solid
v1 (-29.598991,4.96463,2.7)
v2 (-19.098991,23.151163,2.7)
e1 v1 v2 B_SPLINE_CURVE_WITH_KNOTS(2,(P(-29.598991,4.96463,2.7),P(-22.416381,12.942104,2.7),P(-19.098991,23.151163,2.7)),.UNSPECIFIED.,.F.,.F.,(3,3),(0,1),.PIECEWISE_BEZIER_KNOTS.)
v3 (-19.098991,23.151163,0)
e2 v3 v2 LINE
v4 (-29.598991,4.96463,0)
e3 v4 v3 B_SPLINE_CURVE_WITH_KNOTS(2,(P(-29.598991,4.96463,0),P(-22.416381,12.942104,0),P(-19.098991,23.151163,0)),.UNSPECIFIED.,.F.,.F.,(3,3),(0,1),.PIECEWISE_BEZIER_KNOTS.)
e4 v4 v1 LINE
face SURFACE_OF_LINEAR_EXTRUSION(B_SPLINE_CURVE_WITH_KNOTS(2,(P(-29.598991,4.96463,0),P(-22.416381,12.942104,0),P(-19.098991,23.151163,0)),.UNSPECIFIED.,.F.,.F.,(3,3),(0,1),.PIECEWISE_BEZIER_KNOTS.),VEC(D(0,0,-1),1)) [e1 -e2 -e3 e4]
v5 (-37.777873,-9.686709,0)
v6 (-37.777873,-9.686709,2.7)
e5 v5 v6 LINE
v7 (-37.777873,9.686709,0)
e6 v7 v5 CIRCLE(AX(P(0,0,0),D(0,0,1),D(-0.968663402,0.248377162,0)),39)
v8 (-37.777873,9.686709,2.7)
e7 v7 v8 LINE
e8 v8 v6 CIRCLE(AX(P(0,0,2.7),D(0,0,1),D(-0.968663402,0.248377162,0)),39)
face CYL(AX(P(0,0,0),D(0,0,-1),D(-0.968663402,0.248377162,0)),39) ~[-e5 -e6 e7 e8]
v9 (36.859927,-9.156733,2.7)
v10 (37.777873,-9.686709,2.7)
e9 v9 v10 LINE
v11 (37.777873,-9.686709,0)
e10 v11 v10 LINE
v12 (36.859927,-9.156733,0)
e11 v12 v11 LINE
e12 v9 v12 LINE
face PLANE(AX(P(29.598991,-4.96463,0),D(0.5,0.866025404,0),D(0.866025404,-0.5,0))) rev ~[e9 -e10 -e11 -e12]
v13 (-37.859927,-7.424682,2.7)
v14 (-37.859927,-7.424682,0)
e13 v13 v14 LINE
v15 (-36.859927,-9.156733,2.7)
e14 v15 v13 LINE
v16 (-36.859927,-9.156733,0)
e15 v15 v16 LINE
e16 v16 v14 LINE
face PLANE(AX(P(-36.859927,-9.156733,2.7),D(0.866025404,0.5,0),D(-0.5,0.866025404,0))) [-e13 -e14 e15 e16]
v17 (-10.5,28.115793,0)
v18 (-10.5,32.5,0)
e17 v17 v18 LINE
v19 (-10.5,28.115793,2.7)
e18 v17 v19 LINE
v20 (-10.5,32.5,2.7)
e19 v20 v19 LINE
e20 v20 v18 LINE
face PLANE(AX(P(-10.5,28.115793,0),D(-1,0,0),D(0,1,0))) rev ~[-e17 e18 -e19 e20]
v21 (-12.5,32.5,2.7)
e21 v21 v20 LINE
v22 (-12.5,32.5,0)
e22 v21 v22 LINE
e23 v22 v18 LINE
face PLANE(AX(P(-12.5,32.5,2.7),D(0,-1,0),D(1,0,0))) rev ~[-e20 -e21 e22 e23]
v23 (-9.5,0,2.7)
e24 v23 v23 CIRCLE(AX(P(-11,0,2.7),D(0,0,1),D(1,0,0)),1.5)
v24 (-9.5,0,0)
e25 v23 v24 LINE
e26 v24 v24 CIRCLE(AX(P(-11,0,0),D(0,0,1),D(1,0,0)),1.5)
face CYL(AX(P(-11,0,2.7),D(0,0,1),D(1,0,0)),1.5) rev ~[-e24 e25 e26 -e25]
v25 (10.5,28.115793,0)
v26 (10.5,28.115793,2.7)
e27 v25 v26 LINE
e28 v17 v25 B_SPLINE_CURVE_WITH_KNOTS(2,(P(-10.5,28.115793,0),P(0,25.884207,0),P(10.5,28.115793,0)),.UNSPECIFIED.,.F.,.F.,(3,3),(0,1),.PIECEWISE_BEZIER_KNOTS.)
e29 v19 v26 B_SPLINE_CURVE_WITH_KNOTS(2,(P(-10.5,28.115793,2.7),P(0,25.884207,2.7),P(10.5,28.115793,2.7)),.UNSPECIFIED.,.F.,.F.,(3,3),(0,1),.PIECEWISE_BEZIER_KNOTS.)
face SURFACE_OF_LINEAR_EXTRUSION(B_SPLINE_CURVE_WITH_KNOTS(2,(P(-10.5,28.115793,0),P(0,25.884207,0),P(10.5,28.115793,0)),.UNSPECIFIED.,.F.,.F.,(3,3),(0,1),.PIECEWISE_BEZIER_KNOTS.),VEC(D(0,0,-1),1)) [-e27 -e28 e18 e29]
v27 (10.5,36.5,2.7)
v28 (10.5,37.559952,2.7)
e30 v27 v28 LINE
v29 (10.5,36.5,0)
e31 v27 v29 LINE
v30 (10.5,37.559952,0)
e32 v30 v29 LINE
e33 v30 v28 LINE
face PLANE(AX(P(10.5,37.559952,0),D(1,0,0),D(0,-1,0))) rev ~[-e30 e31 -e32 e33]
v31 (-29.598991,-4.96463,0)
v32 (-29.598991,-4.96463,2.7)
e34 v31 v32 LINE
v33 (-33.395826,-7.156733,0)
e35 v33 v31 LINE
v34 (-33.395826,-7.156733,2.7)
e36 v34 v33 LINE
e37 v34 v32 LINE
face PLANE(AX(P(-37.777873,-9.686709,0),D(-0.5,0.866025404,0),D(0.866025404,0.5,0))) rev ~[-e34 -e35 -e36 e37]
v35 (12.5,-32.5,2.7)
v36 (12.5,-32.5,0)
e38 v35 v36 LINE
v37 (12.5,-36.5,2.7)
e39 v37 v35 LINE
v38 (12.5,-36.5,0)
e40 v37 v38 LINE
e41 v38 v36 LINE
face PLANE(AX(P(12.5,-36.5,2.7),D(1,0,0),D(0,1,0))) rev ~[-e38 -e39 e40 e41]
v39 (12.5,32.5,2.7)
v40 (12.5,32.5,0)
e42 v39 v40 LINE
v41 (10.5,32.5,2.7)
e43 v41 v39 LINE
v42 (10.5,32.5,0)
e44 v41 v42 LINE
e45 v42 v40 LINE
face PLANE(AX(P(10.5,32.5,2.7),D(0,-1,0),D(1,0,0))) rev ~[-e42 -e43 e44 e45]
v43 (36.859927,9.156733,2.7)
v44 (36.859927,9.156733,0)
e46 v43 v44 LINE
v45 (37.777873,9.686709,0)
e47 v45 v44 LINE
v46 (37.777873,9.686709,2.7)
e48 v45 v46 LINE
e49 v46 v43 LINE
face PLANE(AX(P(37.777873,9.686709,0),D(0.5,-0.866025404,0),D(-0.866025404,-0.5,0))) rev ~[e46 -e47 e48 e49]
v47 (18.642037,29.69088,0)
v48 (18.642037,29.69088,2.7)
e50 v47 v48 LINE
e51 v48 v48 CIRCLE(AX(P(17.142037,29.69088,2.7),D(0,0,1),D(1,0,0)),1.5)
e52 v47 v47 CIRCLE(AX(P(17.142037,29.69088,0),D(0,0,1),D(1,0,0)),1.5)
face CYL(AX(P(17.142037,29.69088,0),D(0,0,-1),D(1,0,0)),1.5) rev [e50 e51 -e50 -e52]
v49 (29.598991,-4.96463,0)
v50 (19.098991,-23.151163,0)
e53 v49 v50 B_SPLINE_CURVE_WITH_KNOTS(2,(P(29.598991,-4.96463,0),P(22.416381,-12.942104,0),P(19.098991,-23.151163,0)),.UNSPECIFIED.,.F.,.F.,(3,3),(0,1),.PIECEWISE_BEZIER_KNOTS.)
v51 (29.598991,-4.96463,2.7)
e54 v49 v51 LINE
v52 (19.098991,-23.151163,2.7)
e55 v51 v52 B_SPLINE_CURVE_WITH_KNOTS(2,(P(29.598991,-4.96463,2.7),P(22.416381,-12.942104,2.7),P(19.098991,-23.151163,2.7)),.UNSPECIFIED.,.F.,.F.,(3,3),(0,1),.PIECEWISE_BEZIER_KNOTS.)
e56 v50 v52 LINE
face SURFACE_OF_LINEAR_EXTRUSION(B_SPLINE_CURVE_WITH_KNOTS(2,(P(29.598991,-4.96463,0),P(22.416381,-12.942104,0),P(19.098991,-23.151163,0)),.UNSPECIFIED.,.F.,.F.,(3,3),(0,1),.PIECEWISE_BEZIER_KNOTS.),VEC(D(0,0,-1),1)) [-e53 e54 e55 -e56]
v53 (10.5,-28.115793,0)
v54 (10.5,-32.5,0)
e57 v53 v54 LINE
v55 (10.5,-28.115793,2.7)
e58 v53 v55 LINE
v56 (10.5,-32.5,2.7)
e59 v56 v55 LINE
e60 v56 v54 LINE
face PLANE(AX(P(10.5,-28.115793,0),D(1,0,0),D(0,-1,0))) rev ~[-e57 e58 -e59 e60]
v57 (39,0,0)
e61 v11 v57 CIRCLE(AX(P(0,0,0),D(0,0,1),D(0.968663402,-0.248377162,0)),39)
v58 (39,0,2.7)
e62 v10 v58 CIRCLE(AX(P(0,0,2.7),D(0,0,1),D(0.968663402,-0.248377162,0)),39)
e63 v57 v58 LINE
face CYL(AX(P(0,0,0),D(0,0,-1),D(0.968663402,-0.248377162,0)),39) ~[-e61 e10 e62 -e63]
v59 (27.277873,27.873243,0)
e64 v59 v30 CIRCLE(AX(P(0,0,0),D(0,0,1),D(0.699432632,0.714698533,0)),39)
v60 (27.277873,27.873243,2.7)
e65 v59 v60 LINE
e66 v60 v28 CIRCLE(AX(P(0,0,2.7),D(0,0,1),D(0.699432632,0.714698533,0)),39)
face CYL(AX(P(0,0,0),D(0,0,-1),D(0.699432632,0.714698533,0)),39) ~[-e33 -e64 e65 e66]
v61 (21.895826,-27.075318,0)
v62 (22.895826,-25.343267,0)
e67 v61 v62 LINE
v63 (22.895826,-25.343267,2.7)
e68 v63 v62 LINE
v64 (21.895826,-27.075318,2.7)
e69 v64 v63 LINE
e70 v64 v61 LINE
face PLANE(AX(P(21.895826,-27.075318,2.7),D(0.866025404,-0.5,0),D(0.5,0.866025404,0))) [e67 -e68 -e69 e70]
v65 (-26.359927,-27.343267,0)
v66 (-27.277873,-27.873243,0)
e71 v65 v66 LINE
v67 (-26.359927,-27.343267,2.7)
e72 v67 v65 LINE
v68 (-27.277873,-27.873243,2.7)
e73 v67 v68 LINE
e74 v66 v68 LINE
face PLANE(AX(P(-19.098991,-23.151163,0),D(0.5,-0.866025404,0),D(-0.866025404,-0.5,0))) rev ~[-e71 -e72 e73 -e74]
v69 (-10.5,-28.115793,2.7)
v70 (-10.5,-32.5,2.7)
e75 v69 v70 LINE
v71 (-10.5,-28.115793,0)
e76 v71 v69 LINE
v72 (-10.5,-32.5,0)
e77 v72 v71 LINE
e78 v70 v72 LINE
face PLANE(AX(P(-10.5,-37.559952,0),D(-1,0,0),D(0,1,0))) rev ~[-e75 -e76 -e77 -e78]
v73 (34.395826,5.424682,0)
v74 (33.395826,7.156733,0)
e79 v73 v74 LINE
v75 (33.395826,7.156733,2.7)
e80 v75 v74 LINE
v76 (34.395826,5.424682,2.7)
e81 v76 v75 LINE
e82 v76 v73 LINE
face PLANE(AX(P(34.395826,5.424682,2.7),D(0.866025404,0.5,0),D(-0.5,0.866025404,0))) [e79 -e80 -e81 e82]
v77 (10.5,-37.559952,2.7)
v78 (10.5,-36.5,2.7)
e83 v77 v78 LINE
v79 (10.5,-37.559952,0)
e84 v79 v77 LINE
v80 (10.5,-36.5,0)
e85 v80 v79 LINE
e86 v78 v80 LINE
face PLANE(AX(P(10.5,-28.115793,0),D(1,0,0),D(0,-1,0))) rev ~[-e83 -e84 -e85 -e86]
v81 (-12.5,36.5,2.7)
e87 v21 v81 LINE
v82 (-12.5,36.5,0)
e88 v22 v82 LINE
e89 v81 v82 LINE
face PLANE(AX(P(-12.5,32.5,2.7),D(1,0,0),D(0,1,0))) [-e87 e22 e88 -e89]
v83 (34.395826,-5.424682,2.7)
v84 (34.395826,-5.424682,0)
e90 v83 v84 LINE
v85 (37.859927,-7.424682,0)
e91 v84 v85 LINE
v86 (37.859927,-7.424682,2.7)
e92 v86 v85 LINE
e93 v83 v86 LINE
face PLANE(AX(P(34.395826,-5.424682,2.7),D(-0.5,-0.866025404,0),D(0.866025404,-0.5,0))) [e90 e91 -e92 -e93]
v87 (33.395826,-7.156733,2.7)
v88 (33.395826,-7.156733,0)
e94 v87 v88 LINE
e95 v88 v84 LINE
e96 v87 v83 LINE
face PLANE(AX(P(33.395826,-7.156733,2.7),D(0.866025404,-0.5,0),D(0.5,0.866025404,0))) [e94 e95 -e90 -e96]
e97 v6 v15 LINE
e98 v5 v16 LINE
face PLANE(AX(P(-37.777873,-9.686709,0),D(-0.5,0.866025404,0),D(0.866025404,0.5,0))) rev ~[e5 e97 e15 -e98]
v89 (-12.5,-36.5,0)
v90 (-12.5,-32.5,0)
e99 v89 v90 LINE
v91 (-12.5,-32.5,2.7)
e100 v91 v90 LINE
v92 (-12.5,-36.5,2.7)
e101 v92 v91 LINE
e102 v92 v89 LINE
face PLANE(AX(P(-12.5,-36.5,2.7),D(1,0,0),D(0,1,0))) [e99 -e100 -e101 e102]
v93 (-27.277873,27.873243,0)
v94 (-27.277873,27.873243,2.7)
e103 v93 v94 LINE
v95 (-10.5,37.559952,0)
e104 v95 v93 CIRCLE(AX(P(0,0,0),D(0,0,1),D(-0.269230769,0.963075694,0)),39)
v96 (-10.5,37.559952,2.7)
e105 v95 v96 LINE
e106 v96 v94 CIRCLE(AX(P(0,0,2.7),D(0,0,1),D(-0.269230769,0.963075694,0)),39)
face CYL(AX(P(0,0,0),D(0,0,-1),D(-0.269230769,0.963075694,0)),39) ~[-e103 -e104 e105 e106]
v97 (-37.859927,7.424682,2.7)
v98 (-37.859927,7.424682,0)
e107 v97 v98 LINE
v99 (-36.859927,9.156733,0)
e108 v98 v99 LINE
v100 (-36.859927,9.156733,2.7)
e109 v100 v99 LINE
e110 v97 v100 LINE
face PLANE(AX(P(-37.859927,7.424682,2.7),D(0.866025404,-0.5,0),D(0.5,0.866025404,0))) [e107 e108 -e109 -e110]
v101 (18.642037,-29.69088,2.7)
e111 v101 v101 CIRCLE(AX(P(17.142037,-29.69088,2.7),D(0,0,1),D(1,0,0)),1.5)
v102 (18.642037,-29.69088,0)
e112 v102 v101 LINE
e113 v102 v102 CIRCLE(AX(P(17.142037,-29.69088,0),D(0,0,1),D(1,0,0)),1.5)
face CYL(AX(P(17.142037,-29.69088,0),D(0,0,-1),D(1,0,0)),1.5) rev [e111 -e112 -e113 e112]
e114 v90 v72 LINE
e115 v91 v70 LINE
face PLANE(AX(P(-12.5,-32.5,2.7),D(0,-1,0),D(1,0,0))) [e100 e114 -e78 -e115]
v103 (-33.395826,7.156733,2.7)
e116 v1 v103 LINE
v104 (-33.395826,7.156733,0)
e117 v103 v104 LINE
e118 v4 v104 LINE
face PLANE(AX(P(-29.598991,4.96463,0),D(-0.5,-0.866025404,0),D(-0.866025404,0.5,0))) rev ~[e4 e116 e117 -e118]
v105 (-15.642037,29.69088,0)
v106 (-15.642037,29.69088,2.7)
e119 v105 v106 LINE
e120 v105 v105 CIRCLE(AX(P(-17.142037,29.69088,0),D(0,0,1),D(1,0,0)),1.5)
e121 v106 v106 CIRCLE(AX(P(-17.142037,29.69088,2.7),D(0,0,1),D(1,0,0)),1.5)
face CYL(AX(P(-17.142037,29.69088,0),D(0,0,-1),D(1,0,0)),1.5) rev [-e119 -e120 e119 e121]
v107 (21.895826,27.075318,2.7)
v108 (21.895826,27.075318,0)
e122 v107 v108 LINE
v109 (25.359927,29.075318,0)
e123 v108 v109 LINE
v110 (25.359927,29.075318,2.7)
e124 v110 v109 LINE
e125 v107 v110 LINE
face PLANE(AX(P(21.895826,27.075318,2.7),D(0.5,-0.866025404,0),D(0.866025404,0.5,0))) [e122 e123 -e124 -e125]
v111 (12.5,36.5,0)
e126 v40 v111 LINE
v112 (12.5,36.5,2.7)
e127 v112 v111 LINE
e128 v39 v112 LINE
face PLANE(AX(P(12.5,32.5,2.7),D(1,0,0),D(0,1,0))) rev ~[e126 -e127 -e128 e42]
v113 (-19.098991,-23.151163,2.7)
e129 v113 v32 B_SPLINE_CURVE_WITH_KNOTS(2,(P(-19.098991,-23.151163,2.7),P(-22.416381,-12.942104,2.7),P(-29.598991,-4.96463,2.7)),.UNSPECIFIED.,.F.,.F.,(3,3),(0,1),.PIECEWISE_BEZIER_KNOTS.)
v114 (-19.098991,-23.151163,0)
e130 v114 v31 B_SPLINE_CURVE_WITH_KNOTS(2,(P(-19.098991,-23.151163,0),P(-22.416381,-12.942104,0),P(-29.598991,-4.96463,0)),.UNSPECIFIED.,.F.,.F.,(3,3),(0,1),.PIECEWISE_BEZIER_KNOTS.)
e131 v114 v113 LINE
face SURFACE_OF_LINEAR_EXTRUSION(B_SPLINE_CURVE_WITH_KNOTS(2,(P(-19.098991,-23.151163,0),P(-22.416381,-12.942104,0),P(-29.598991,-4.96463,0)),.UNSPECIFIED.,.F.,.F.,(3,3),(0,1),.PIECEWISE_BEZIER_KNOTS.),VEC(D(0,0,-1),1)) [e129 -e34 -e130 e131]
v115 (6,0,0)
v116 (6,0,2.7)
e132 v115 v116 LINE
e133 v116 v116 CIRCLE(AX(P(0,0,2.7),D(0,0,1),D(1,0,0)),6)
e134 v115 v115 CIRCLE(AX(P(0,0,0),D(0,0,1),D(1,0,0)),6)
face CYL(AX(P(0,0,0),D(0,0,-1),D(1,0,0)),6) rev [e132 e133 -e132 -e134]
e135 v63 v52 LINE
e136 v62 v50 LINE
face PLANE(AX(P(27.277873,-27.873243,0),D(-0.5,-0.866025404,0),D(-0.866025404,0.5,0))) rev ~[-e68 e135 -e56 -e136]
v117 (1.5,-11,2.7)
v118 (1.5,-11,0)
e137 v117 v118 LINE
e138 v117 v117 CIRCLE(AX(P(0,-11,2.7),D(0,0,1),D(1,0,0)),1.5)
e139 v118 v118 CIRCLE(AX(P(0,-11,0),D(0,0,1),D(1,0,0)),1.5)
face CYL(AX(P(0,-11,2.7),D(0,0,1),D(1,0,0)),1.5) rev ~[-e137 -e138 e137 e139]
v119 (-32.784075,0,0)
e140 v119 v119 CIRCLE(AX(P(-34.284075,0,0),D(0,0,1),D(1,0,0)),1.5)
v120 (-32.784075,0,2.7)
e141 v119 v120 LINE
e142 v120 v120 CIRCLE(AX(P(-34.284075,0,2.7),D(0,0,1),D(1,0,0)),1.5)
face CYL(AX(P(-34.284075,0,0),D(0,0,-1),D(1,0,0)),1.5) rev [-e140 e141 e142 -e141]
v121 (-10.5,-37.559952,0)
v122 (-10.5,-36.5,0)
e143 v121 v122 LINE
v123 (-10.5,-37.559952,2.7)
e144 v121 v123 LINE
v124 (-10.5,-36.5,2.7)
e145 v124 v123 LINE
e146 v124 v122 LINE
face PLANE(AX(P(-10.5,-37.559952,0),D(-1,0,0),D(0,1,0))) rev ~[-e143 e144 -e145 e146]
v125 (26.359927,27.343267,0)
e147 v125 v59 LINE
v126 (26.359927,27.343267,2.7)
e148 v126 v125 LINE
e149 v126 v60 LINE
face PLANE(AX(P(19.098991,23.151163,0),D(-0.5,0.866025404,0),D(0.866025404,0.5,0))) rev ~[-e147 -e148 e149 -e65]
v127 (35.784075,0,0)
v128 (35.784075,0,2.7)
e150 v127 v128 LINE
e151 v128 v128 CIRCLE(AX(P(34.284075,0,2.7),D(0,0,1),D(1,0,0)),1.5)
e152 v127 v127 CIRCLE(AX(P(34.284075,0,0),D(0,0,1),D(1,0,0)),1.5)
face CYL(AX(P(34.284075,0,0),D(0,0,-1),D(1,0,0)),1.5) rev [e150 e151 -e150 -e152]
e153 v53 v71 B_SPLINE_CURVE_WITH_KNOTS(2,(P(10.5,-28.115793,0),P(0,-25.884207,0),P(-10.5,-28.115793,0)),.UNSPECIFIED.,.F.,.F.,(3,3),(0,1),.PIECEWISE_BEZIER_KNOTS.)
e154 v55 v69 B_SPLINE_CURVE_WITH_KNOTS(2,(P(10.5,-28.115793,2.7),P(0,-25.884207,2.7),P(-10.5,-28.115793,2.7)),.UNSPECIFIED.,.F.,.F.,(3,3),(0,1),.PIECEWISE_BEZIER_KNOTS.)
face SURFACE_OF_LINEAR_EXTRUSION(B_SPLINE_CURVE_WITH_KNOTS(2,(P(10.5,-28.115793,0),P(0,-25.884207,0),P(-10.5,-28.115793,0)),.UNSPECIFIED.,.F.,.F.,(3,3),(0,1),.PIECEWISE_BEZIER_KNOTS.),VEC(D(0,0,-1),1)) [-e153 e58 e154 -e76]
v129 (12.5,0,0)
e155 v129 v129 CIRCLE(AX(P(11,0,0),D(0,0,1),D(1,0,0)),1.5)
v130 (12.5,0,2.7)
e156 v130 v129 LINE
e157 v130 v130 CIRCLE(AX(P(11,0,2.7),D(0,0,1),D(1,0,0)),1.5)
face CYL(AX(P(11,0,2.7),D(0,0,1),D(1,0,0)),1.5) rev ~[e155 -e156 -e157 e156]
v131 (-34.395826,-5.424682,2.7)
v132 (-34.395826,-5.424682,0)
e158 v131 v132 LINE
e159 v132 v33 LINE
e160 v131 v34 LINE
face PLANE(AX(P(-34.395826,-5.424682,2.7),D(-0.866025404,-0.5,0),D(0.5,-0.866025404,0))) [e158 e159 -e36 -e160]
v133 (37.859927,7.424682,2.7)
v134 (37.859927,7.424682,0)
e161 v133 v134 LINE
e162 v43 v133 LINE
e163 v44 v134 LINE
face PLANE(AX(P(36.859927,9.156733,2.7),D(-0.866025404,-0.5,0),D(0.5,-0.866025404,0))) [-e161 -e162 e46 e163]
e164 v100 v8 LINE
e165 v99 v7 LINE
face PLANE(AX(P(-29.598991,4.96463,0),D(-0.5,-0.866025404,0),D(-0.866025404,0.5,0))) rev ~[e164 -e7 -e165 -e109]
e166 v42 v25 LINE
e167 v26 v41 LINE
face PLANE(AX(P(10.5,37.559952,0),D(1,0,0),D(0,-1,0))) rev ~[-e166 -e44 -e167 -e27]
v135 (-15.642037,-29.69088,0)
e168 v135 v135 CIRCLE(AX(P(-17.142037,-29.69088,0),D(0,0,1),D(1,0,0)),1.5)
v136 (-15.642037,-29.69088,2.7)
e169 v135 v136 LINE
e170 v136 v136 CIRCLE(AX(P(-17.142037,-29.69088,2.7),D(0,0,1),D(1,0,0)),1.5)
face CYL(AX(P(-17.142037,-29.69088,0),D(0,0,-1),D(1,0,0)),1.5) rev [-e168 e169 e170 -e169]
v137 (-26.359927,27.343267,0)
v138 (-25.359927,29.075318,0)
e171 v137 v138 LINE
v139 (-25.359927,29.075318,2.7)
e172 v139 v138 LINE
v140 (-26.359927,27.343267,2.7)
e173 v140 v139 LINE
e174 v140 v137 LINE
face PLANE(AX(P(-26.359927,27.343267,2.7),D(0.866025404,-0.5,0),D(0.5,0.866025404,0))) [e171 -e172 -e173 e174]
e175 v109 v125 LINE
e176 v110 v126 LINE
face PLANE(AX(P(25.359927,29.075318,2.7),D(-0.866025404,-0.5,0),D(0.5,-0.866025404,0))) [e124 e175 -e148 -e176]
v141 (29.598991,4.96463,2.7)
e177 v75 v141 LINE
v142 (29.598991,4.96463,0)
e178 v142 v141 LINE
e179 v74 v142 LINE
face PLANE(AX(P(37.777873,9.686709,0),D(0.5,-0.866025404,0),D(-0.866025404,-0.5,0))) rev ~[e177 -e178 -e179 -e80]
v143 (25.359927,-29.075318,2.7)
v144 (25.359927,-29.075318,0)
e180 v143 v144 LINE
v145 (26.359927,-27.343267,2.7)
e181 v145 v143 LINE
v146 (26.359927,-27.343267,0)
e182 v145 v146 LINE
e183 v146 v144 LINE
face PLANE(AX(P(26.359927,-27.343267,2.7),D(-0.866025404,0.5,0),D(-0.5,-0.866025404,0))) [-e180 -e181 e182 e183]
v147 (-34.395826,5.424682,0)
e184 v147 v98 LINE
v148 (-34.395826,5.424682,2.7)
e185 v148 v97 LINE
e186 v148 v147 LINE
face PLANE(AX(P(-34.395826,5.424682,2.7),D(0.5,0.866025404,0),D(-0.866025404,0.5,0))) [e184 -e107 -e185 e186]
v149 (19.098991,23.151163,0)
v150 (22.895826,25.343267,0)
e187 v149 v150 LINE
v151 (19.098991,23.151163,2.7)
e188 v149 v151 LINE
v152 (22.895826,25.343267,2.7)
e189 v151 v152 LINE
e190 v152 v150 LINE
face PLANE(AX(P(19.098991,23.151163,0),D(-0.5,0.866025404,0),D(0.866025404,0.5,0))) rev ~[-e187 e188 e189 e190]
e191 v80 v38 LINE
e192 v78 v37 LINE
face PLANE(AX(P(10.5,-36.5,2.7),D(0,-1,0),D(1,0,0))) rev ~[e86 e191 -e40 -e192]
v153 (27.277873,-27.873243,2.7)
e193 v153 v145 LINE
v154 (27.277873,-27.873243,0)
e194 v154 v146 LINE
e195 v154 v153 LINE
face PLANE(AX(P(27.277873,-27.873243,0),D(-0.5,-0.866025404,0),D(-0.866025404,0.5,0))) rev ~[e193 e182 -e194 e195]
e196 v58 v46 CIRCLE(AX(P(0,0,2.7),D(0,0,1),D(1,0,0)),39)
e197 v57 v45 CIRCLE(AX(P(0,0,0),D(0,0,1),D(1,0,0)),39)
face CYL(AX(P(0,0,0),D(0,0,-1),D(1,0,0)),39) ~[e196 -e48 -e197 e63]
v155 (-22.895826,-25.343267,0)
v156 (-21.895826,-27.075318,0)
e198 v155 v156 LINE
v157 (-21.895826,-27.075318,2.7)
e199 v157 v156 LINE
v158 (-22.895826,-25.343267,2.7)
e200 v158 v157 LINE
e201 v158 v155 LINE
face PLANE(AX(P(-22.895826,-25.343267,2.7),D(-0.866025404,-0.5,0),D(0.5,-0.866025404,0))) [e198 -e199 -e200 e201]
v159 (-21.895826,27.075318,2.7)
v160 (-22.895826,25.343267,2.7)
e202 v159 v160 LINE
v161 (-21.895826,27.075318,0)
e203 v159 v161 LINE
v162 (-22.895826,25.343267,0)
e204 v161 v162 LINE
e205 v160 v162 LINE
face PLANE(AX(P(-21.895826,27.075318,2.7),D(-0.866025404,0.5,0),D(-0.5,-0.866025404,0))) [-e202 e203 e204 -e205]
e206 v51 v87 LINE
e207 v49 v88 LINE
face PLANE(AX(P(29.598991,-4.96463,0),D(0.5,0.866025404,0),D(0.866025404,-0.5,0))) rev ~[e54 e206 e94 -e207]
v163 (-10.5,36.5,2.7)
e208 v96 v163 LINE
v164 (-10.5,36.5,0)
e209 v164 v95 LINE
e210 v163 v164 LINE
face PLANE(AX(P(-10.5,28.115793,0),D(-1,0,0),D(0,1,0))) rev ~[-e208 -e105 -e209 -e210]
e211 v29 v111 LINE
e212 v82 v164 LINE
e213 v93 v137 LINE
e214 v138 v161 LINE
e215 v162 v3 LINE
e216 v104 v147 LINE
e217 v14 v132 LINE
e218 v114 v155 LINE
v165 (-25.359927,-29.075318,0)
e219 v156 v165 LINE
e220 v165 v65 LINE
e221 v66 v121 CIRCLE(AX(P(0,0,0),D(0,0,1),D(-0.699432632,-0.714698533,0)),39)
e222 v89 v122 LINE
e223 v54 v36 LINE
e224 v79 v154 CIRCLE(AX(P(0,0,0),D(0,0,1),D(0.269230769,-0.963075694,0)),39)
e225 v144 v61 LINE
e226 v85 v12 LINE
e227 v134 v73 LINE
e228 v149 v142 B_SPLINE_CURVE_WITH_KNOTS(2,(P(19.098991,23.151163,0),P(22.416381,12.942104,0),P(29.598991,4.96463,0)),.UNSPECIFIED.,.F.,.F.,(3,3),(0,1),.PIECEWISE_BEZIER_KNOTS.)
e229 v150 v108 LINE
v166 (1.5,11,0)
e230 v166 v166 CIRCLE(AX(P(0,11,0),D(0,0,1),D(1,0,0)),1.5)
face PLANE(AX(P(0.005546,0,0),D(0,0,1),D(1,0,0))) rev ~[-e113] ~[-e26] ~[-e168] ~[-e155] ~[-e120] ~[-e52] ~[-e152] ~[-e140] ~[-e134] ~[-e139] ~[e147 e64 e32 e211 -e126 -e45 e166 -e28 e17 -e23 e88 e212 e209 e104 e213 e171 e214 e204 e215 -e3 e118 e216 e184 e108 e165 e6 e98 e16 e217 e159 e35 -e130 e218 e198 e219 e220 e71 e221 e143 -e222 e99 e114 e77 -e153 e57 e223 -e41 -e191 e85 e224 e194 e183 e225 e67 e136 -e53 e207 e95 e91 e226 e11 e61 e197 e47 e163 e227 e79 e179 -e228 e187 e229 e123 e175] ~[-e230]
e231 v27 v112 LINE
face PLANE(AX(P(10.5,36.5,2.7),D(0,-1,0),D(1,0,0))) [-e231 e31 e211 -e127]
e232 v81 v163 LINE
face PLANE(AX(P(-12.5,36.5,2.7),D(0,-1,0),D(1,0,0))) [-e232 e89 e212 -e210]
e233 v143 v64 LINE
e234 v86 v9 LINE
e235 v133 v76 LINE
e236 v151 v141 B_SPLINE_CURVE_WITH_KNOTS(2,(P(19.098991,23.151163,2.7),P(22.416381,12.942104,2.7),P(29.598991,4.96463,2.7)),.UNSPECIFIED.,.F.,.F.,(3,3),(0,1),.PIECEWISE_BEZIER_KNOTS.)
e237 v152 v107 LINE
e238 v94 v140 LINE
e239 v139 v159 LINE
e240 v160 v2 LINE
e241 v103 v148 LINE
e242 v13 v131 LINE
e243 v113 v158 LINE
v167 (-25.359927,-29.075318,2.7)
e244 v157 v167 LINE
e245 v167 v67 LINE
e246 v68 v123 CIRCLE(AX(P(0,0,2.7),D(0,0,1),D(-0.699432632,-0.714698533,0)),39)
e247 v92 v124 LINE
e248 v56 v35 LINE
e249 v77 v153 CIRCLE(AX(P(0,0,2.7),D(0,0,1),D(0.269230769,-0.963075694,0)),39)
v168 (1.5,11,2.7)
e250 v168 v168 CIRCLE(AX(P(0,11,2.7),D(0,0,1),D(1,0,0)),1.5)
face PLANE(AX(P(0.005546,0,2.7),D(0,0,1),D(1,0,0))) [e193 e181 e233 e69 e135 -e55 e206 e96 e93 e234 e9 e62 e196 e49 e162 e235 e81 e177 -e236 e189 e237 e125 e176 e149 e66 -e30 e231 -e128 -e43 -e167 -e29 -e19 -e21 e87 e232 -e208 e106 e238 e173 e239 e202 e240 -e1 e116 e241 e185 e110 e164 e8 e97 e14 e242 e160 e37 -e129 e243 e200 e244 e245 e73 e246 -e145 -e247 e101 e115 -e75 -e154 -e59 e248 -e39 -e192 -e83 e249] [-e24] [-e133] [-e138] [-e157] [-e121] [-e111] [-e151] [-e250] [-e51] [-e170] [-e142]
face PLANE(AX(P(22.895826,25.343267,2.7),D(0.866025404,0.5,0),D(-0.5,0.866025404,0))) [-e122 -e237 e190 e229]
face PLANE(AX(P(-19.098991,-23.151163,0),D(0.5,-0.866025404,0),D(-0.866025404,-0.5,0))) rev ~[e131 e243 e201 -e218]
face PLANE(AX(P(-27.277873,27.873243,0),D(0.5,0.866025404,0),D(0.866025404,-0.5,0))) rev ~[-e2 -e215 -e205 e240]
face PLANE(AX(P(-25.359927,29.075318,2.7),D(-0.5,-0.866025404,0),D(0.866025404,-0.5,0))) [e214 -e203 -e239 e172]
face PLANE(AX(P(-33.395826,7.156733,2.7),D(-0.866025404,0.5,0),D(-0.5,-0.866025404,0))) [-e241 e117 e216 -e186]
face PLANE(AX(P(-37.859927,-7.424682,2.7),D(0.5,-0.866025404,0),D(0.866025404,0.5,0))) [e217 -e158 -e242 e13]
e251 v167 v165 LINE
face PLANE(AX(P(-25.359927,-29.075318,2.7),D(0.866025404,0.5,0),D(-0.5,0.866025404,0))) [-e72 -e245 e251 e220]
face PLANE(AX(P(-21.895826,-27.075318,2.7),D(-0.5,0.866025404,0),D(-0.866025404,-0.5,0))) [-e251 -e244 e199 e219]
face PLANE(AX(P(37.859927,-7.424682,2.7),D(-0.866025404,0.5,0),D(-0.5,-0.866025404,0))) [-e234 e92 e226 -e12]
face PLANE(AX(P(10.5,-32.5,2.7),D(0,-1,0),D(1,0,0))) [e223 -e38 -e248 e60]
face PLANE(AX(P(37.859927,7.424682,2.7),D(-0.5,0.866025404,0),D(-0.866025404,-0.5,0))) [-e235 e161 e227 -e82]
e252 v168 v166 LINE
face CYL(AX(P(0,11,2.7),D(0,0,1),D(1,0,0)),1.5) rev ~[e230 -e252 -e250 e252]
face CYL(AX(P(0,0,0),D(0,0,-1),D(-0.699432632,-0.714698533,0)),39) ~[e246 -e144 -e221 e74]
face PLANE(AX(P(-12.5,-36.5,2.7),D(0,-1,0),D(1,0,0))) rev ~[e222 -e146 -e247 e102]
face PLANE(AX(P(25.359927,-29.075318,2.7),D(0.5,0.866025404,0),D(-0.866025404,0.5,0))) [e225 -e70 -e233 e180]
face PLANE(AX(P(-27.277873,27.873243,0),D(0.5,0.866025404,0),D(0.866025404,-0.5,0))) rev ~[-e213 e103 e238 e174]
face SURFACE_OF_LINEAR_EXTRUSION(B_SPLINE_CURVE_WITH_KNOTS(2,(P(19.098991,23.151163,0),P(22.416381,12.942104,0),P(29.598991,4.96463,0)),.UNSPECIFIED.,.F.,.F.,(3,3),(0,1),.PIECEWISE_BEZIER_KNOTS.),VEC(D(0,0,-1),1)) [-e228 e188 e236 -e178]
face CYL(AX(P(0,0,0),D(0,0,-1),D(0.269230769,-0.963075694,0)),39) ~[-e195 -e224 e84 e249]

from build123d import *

# Parameters (mm, degrees)
CROQUIS2_R                 = 1.5
CROQUIS2_R_2               = 6
SALIENTE_EXTRUIR2_DEPTH    = 2.7
CROQUIS3_R                 = 1.5
CROQUIS3_W                 = 2
CROQUIS3_H                 = 4
CORTAR_EXTRUIR1_DEPTH      = 1.0000001
CORTAR_EXTRUIR1_DEPTH_BACK = 3.7000001


with BuildPart() as part:
    # Croquis2 → Saliente-Extruir2 (new body)
    with BuildSketch(Plane.XY):
        with BuildLine():
            Line((-10.5, 28.115792599), (-10.5, 37.559952077))
            ThreePointArc((-10.5, 37.559952077), (-19.5, 33.774990748), (-27.277872663, 27.873242778))
            Line((-27.277872663, 27.873242778), (-19.098990638, 23.151163039))
            add(Edge.make_bspline(
                [(-29.598990638, 4.96462956), (-22.416381166, 12.9421037), (-19.098990638, 23.151163039)],
                knots=[0, 0, 0, 1, 1, 1], degree=2))
            Line((-29.598990638, 4.96462956), (-37.777872663, 9.686709299))
            ThreePointArc((-37.777872663, 9.686709299), (-39, 0), (-37.777872663, -9.686709299))
            Line((-37.777872663, -9.686709299), (-29.598990638, -4.96462956))
            add(Edge.make_bspline(
                [(-19.098990638, -23.151163039), (-22.416381166, -12.9421037), (-29.598990638, -4.96462956)],
                knots=[0, 0, 0, 1, 1, 1], degree=2))
            Line((-19.098990638, -23.151163039), (-27.277872663, -27.873242778))
            ThreePointArc((-27.277872663, -27.873242778), (-19.5, -33.774990748), (-10.5, -37.559952077))
            Line((-10.5, -37.559952077), (-10.5, -28.115792599))
            add(Edge.make_bspline(
                [(10.5, -28.115792599), (0, -25.884207401), (-10.5, -28.115792599)],
                knots=[0, 0, 0, 1, 1, 1], degree=2))
            Line((10.5, -28.115792599), (10.5, -37.559952077))
            ThreePointArc((10.5, -37.559952077), (19.5, -33.774990748), (27.277872663, -27.873242778))
            Line((27.277872663, -27.873242778), (19.098990638, -23.151163039))
            add(Edge.make_bspline(
                [(29.598990638, -4.96462956), (22.416381166, -12.9421037), (19.098990638, -23.151163039)],
                knots=[0, 0, 0, 1, 1, 1], degree=2))
            Line((29.598990638, -4.96462956), (37.777872663, -9.686709299))
            ThreePointArc((37.777872663, -9.686709299), (38.693261906, -4.88175), (39, 0))
            ThreePointArc((39, 0), (38.693261906, 4.88175), (37.777872663, 9.686709299))
            Line((37.777872663, 9.686709299), (29.598990638, 4.96462956))
            add(Edge.make_bspline(
                [(19.098990638, 23.151163039), (22.416381166, 12.9421037), (29.598990638, 4.96462956)],
                knots=[0, 0, 0, 1, 1, 1], degree=2))
            Line((19.098990638, 23.151163039), (27.277872663, 27.873242778))
            ThreePointArc((27.277872663, 27.873242778), (19.5, 33.774990748), (10.5, 37.559952077))
            Line((10.5, 37.559952077), (10.5, 28.115792599))
            add(Edge.make_bspline(
                [(-10.5, 28.115792599), (0, 25.884207401), (10.5, 28.115792599)],
                knots=[0, 0, 0, 1, 1, 1], degree=2))
        make_face()
        with Locations((-17.142037335, -29.69087961)):
            Circle(CROQUIS2_R, mode=Mode.SUBTRACT)
        with Locations((-34.28407467, 0)):
            Circle(CROQUIS2_R, mode=Mode.SUBTRACT)
        with Locations((17.142037335, -29.69087961)):
            Circle(CROQUIS2_R, mode=Mode.SUBTRACT)
        with Locations((-17.142037335, 29.69087961)):
            Circle(CROQUIS2_R, mode=Mode.SUBTRACT)
        Circle(CROQUIS2_R_2, mode=Mode.SUBTRACT)
        with Locations((34.28407467, 0)):
            Circle(CROQUIS2_R, mode=Mode.SUBTRACT)
        with Locations((17.142037335, 29.69087961)):
            Circle(CROQUIS2_R, mode=Mode.SUBTRACT)
    extrude(amount=SALIENTE_EXTRUIR2_DEPTH)

    # Croquis3 → Cortar-Extruir1 (cut, two sides)
    with BuildSketch(Plane.XY.offset(2.7)) as cortar_extruir1_sk:
        with Locations((11, 0)):
            Circle(CROQUIS3_R)
        with Locations((0, -11)):
            Circle(CROQUIS3_R)
        with Locations((-11, 0)):
            Circle(CROQUIS3_R)
        with Locations((0, 11)):
            Circle(CROQUIS3_R)
        with Locations((-11.5, 34.5)):
            Rectangle(CROQUIS3_W, CROQUIS3_H)
        with Locations((11.5, 34.5)):
            Rectangle(CROQUIS3_W, CROQUIS3_H)
        Polygon((22.895825623, 25.34326674), (21.895825623, 27.075317547), (25.359927238, 29.075317547), (26.359927238, 27.34326674), align=None)
        Polygon((36.859927238, 9.15673326), (37.859927238, 7.424682453), (34.395825623, 5.424682453), (33.395825623, 7.15673326), align=None)
        Polygon((33.395825623, -7.15673326), (34.395825623, -5.424682453), (37.859927238, -7.424682453), (36.859927238, -9.15673326), align=None)
        Polygon((26.359927238, -27.34326674), (25.359927238, -29.075317547), (21.895825623, -27.075317547), (22.895825623, -25.34326674), align=None)
        with Locations((11.5, -34.5)):
            Rectangle(CROQUIS3_W, CROQUIS3_H)
        with Locations((-11.5, -34.5)):
            Rectangle(CROQUIS3_W, CROQUIS3_H)
        Polygon((-22.895825623, -25.34326674), (-21.895825623, -27.075317547), (-25.359927238, -29.075317547), (-26.359927238, -27.34326674), align=None)
        Polygon((-36.859927238, -9.15673326), (-37.859927238, -7.424682453), (-34.395825623, -5.424682453), (-33.395825623, -7.15673326), align=None)
        Polygon((-33.395825623, 7.15673326), (-34.395825623, 5.424682453), (-37.859927238, 7.424682453), (-36.859927238, 9.15673326), align=None)
        Polygon((-26.359927238, 27.34326674), (-25.359927238, 29.075317547), (-21.895825623, 27.075317547), (-22.895825623, 25.34326674), align=None)
    extrude(amount=CORTAR_EXTRUIR1_DEPTH, mode=Mode.SUBTRACT)
    extrude(cortar_extruir1_sk.sketch, amount=-CORTAR_EXTRUIR1_DEPTH_BACK, mode=Mode.SUBTRACT)


solid = part.part
